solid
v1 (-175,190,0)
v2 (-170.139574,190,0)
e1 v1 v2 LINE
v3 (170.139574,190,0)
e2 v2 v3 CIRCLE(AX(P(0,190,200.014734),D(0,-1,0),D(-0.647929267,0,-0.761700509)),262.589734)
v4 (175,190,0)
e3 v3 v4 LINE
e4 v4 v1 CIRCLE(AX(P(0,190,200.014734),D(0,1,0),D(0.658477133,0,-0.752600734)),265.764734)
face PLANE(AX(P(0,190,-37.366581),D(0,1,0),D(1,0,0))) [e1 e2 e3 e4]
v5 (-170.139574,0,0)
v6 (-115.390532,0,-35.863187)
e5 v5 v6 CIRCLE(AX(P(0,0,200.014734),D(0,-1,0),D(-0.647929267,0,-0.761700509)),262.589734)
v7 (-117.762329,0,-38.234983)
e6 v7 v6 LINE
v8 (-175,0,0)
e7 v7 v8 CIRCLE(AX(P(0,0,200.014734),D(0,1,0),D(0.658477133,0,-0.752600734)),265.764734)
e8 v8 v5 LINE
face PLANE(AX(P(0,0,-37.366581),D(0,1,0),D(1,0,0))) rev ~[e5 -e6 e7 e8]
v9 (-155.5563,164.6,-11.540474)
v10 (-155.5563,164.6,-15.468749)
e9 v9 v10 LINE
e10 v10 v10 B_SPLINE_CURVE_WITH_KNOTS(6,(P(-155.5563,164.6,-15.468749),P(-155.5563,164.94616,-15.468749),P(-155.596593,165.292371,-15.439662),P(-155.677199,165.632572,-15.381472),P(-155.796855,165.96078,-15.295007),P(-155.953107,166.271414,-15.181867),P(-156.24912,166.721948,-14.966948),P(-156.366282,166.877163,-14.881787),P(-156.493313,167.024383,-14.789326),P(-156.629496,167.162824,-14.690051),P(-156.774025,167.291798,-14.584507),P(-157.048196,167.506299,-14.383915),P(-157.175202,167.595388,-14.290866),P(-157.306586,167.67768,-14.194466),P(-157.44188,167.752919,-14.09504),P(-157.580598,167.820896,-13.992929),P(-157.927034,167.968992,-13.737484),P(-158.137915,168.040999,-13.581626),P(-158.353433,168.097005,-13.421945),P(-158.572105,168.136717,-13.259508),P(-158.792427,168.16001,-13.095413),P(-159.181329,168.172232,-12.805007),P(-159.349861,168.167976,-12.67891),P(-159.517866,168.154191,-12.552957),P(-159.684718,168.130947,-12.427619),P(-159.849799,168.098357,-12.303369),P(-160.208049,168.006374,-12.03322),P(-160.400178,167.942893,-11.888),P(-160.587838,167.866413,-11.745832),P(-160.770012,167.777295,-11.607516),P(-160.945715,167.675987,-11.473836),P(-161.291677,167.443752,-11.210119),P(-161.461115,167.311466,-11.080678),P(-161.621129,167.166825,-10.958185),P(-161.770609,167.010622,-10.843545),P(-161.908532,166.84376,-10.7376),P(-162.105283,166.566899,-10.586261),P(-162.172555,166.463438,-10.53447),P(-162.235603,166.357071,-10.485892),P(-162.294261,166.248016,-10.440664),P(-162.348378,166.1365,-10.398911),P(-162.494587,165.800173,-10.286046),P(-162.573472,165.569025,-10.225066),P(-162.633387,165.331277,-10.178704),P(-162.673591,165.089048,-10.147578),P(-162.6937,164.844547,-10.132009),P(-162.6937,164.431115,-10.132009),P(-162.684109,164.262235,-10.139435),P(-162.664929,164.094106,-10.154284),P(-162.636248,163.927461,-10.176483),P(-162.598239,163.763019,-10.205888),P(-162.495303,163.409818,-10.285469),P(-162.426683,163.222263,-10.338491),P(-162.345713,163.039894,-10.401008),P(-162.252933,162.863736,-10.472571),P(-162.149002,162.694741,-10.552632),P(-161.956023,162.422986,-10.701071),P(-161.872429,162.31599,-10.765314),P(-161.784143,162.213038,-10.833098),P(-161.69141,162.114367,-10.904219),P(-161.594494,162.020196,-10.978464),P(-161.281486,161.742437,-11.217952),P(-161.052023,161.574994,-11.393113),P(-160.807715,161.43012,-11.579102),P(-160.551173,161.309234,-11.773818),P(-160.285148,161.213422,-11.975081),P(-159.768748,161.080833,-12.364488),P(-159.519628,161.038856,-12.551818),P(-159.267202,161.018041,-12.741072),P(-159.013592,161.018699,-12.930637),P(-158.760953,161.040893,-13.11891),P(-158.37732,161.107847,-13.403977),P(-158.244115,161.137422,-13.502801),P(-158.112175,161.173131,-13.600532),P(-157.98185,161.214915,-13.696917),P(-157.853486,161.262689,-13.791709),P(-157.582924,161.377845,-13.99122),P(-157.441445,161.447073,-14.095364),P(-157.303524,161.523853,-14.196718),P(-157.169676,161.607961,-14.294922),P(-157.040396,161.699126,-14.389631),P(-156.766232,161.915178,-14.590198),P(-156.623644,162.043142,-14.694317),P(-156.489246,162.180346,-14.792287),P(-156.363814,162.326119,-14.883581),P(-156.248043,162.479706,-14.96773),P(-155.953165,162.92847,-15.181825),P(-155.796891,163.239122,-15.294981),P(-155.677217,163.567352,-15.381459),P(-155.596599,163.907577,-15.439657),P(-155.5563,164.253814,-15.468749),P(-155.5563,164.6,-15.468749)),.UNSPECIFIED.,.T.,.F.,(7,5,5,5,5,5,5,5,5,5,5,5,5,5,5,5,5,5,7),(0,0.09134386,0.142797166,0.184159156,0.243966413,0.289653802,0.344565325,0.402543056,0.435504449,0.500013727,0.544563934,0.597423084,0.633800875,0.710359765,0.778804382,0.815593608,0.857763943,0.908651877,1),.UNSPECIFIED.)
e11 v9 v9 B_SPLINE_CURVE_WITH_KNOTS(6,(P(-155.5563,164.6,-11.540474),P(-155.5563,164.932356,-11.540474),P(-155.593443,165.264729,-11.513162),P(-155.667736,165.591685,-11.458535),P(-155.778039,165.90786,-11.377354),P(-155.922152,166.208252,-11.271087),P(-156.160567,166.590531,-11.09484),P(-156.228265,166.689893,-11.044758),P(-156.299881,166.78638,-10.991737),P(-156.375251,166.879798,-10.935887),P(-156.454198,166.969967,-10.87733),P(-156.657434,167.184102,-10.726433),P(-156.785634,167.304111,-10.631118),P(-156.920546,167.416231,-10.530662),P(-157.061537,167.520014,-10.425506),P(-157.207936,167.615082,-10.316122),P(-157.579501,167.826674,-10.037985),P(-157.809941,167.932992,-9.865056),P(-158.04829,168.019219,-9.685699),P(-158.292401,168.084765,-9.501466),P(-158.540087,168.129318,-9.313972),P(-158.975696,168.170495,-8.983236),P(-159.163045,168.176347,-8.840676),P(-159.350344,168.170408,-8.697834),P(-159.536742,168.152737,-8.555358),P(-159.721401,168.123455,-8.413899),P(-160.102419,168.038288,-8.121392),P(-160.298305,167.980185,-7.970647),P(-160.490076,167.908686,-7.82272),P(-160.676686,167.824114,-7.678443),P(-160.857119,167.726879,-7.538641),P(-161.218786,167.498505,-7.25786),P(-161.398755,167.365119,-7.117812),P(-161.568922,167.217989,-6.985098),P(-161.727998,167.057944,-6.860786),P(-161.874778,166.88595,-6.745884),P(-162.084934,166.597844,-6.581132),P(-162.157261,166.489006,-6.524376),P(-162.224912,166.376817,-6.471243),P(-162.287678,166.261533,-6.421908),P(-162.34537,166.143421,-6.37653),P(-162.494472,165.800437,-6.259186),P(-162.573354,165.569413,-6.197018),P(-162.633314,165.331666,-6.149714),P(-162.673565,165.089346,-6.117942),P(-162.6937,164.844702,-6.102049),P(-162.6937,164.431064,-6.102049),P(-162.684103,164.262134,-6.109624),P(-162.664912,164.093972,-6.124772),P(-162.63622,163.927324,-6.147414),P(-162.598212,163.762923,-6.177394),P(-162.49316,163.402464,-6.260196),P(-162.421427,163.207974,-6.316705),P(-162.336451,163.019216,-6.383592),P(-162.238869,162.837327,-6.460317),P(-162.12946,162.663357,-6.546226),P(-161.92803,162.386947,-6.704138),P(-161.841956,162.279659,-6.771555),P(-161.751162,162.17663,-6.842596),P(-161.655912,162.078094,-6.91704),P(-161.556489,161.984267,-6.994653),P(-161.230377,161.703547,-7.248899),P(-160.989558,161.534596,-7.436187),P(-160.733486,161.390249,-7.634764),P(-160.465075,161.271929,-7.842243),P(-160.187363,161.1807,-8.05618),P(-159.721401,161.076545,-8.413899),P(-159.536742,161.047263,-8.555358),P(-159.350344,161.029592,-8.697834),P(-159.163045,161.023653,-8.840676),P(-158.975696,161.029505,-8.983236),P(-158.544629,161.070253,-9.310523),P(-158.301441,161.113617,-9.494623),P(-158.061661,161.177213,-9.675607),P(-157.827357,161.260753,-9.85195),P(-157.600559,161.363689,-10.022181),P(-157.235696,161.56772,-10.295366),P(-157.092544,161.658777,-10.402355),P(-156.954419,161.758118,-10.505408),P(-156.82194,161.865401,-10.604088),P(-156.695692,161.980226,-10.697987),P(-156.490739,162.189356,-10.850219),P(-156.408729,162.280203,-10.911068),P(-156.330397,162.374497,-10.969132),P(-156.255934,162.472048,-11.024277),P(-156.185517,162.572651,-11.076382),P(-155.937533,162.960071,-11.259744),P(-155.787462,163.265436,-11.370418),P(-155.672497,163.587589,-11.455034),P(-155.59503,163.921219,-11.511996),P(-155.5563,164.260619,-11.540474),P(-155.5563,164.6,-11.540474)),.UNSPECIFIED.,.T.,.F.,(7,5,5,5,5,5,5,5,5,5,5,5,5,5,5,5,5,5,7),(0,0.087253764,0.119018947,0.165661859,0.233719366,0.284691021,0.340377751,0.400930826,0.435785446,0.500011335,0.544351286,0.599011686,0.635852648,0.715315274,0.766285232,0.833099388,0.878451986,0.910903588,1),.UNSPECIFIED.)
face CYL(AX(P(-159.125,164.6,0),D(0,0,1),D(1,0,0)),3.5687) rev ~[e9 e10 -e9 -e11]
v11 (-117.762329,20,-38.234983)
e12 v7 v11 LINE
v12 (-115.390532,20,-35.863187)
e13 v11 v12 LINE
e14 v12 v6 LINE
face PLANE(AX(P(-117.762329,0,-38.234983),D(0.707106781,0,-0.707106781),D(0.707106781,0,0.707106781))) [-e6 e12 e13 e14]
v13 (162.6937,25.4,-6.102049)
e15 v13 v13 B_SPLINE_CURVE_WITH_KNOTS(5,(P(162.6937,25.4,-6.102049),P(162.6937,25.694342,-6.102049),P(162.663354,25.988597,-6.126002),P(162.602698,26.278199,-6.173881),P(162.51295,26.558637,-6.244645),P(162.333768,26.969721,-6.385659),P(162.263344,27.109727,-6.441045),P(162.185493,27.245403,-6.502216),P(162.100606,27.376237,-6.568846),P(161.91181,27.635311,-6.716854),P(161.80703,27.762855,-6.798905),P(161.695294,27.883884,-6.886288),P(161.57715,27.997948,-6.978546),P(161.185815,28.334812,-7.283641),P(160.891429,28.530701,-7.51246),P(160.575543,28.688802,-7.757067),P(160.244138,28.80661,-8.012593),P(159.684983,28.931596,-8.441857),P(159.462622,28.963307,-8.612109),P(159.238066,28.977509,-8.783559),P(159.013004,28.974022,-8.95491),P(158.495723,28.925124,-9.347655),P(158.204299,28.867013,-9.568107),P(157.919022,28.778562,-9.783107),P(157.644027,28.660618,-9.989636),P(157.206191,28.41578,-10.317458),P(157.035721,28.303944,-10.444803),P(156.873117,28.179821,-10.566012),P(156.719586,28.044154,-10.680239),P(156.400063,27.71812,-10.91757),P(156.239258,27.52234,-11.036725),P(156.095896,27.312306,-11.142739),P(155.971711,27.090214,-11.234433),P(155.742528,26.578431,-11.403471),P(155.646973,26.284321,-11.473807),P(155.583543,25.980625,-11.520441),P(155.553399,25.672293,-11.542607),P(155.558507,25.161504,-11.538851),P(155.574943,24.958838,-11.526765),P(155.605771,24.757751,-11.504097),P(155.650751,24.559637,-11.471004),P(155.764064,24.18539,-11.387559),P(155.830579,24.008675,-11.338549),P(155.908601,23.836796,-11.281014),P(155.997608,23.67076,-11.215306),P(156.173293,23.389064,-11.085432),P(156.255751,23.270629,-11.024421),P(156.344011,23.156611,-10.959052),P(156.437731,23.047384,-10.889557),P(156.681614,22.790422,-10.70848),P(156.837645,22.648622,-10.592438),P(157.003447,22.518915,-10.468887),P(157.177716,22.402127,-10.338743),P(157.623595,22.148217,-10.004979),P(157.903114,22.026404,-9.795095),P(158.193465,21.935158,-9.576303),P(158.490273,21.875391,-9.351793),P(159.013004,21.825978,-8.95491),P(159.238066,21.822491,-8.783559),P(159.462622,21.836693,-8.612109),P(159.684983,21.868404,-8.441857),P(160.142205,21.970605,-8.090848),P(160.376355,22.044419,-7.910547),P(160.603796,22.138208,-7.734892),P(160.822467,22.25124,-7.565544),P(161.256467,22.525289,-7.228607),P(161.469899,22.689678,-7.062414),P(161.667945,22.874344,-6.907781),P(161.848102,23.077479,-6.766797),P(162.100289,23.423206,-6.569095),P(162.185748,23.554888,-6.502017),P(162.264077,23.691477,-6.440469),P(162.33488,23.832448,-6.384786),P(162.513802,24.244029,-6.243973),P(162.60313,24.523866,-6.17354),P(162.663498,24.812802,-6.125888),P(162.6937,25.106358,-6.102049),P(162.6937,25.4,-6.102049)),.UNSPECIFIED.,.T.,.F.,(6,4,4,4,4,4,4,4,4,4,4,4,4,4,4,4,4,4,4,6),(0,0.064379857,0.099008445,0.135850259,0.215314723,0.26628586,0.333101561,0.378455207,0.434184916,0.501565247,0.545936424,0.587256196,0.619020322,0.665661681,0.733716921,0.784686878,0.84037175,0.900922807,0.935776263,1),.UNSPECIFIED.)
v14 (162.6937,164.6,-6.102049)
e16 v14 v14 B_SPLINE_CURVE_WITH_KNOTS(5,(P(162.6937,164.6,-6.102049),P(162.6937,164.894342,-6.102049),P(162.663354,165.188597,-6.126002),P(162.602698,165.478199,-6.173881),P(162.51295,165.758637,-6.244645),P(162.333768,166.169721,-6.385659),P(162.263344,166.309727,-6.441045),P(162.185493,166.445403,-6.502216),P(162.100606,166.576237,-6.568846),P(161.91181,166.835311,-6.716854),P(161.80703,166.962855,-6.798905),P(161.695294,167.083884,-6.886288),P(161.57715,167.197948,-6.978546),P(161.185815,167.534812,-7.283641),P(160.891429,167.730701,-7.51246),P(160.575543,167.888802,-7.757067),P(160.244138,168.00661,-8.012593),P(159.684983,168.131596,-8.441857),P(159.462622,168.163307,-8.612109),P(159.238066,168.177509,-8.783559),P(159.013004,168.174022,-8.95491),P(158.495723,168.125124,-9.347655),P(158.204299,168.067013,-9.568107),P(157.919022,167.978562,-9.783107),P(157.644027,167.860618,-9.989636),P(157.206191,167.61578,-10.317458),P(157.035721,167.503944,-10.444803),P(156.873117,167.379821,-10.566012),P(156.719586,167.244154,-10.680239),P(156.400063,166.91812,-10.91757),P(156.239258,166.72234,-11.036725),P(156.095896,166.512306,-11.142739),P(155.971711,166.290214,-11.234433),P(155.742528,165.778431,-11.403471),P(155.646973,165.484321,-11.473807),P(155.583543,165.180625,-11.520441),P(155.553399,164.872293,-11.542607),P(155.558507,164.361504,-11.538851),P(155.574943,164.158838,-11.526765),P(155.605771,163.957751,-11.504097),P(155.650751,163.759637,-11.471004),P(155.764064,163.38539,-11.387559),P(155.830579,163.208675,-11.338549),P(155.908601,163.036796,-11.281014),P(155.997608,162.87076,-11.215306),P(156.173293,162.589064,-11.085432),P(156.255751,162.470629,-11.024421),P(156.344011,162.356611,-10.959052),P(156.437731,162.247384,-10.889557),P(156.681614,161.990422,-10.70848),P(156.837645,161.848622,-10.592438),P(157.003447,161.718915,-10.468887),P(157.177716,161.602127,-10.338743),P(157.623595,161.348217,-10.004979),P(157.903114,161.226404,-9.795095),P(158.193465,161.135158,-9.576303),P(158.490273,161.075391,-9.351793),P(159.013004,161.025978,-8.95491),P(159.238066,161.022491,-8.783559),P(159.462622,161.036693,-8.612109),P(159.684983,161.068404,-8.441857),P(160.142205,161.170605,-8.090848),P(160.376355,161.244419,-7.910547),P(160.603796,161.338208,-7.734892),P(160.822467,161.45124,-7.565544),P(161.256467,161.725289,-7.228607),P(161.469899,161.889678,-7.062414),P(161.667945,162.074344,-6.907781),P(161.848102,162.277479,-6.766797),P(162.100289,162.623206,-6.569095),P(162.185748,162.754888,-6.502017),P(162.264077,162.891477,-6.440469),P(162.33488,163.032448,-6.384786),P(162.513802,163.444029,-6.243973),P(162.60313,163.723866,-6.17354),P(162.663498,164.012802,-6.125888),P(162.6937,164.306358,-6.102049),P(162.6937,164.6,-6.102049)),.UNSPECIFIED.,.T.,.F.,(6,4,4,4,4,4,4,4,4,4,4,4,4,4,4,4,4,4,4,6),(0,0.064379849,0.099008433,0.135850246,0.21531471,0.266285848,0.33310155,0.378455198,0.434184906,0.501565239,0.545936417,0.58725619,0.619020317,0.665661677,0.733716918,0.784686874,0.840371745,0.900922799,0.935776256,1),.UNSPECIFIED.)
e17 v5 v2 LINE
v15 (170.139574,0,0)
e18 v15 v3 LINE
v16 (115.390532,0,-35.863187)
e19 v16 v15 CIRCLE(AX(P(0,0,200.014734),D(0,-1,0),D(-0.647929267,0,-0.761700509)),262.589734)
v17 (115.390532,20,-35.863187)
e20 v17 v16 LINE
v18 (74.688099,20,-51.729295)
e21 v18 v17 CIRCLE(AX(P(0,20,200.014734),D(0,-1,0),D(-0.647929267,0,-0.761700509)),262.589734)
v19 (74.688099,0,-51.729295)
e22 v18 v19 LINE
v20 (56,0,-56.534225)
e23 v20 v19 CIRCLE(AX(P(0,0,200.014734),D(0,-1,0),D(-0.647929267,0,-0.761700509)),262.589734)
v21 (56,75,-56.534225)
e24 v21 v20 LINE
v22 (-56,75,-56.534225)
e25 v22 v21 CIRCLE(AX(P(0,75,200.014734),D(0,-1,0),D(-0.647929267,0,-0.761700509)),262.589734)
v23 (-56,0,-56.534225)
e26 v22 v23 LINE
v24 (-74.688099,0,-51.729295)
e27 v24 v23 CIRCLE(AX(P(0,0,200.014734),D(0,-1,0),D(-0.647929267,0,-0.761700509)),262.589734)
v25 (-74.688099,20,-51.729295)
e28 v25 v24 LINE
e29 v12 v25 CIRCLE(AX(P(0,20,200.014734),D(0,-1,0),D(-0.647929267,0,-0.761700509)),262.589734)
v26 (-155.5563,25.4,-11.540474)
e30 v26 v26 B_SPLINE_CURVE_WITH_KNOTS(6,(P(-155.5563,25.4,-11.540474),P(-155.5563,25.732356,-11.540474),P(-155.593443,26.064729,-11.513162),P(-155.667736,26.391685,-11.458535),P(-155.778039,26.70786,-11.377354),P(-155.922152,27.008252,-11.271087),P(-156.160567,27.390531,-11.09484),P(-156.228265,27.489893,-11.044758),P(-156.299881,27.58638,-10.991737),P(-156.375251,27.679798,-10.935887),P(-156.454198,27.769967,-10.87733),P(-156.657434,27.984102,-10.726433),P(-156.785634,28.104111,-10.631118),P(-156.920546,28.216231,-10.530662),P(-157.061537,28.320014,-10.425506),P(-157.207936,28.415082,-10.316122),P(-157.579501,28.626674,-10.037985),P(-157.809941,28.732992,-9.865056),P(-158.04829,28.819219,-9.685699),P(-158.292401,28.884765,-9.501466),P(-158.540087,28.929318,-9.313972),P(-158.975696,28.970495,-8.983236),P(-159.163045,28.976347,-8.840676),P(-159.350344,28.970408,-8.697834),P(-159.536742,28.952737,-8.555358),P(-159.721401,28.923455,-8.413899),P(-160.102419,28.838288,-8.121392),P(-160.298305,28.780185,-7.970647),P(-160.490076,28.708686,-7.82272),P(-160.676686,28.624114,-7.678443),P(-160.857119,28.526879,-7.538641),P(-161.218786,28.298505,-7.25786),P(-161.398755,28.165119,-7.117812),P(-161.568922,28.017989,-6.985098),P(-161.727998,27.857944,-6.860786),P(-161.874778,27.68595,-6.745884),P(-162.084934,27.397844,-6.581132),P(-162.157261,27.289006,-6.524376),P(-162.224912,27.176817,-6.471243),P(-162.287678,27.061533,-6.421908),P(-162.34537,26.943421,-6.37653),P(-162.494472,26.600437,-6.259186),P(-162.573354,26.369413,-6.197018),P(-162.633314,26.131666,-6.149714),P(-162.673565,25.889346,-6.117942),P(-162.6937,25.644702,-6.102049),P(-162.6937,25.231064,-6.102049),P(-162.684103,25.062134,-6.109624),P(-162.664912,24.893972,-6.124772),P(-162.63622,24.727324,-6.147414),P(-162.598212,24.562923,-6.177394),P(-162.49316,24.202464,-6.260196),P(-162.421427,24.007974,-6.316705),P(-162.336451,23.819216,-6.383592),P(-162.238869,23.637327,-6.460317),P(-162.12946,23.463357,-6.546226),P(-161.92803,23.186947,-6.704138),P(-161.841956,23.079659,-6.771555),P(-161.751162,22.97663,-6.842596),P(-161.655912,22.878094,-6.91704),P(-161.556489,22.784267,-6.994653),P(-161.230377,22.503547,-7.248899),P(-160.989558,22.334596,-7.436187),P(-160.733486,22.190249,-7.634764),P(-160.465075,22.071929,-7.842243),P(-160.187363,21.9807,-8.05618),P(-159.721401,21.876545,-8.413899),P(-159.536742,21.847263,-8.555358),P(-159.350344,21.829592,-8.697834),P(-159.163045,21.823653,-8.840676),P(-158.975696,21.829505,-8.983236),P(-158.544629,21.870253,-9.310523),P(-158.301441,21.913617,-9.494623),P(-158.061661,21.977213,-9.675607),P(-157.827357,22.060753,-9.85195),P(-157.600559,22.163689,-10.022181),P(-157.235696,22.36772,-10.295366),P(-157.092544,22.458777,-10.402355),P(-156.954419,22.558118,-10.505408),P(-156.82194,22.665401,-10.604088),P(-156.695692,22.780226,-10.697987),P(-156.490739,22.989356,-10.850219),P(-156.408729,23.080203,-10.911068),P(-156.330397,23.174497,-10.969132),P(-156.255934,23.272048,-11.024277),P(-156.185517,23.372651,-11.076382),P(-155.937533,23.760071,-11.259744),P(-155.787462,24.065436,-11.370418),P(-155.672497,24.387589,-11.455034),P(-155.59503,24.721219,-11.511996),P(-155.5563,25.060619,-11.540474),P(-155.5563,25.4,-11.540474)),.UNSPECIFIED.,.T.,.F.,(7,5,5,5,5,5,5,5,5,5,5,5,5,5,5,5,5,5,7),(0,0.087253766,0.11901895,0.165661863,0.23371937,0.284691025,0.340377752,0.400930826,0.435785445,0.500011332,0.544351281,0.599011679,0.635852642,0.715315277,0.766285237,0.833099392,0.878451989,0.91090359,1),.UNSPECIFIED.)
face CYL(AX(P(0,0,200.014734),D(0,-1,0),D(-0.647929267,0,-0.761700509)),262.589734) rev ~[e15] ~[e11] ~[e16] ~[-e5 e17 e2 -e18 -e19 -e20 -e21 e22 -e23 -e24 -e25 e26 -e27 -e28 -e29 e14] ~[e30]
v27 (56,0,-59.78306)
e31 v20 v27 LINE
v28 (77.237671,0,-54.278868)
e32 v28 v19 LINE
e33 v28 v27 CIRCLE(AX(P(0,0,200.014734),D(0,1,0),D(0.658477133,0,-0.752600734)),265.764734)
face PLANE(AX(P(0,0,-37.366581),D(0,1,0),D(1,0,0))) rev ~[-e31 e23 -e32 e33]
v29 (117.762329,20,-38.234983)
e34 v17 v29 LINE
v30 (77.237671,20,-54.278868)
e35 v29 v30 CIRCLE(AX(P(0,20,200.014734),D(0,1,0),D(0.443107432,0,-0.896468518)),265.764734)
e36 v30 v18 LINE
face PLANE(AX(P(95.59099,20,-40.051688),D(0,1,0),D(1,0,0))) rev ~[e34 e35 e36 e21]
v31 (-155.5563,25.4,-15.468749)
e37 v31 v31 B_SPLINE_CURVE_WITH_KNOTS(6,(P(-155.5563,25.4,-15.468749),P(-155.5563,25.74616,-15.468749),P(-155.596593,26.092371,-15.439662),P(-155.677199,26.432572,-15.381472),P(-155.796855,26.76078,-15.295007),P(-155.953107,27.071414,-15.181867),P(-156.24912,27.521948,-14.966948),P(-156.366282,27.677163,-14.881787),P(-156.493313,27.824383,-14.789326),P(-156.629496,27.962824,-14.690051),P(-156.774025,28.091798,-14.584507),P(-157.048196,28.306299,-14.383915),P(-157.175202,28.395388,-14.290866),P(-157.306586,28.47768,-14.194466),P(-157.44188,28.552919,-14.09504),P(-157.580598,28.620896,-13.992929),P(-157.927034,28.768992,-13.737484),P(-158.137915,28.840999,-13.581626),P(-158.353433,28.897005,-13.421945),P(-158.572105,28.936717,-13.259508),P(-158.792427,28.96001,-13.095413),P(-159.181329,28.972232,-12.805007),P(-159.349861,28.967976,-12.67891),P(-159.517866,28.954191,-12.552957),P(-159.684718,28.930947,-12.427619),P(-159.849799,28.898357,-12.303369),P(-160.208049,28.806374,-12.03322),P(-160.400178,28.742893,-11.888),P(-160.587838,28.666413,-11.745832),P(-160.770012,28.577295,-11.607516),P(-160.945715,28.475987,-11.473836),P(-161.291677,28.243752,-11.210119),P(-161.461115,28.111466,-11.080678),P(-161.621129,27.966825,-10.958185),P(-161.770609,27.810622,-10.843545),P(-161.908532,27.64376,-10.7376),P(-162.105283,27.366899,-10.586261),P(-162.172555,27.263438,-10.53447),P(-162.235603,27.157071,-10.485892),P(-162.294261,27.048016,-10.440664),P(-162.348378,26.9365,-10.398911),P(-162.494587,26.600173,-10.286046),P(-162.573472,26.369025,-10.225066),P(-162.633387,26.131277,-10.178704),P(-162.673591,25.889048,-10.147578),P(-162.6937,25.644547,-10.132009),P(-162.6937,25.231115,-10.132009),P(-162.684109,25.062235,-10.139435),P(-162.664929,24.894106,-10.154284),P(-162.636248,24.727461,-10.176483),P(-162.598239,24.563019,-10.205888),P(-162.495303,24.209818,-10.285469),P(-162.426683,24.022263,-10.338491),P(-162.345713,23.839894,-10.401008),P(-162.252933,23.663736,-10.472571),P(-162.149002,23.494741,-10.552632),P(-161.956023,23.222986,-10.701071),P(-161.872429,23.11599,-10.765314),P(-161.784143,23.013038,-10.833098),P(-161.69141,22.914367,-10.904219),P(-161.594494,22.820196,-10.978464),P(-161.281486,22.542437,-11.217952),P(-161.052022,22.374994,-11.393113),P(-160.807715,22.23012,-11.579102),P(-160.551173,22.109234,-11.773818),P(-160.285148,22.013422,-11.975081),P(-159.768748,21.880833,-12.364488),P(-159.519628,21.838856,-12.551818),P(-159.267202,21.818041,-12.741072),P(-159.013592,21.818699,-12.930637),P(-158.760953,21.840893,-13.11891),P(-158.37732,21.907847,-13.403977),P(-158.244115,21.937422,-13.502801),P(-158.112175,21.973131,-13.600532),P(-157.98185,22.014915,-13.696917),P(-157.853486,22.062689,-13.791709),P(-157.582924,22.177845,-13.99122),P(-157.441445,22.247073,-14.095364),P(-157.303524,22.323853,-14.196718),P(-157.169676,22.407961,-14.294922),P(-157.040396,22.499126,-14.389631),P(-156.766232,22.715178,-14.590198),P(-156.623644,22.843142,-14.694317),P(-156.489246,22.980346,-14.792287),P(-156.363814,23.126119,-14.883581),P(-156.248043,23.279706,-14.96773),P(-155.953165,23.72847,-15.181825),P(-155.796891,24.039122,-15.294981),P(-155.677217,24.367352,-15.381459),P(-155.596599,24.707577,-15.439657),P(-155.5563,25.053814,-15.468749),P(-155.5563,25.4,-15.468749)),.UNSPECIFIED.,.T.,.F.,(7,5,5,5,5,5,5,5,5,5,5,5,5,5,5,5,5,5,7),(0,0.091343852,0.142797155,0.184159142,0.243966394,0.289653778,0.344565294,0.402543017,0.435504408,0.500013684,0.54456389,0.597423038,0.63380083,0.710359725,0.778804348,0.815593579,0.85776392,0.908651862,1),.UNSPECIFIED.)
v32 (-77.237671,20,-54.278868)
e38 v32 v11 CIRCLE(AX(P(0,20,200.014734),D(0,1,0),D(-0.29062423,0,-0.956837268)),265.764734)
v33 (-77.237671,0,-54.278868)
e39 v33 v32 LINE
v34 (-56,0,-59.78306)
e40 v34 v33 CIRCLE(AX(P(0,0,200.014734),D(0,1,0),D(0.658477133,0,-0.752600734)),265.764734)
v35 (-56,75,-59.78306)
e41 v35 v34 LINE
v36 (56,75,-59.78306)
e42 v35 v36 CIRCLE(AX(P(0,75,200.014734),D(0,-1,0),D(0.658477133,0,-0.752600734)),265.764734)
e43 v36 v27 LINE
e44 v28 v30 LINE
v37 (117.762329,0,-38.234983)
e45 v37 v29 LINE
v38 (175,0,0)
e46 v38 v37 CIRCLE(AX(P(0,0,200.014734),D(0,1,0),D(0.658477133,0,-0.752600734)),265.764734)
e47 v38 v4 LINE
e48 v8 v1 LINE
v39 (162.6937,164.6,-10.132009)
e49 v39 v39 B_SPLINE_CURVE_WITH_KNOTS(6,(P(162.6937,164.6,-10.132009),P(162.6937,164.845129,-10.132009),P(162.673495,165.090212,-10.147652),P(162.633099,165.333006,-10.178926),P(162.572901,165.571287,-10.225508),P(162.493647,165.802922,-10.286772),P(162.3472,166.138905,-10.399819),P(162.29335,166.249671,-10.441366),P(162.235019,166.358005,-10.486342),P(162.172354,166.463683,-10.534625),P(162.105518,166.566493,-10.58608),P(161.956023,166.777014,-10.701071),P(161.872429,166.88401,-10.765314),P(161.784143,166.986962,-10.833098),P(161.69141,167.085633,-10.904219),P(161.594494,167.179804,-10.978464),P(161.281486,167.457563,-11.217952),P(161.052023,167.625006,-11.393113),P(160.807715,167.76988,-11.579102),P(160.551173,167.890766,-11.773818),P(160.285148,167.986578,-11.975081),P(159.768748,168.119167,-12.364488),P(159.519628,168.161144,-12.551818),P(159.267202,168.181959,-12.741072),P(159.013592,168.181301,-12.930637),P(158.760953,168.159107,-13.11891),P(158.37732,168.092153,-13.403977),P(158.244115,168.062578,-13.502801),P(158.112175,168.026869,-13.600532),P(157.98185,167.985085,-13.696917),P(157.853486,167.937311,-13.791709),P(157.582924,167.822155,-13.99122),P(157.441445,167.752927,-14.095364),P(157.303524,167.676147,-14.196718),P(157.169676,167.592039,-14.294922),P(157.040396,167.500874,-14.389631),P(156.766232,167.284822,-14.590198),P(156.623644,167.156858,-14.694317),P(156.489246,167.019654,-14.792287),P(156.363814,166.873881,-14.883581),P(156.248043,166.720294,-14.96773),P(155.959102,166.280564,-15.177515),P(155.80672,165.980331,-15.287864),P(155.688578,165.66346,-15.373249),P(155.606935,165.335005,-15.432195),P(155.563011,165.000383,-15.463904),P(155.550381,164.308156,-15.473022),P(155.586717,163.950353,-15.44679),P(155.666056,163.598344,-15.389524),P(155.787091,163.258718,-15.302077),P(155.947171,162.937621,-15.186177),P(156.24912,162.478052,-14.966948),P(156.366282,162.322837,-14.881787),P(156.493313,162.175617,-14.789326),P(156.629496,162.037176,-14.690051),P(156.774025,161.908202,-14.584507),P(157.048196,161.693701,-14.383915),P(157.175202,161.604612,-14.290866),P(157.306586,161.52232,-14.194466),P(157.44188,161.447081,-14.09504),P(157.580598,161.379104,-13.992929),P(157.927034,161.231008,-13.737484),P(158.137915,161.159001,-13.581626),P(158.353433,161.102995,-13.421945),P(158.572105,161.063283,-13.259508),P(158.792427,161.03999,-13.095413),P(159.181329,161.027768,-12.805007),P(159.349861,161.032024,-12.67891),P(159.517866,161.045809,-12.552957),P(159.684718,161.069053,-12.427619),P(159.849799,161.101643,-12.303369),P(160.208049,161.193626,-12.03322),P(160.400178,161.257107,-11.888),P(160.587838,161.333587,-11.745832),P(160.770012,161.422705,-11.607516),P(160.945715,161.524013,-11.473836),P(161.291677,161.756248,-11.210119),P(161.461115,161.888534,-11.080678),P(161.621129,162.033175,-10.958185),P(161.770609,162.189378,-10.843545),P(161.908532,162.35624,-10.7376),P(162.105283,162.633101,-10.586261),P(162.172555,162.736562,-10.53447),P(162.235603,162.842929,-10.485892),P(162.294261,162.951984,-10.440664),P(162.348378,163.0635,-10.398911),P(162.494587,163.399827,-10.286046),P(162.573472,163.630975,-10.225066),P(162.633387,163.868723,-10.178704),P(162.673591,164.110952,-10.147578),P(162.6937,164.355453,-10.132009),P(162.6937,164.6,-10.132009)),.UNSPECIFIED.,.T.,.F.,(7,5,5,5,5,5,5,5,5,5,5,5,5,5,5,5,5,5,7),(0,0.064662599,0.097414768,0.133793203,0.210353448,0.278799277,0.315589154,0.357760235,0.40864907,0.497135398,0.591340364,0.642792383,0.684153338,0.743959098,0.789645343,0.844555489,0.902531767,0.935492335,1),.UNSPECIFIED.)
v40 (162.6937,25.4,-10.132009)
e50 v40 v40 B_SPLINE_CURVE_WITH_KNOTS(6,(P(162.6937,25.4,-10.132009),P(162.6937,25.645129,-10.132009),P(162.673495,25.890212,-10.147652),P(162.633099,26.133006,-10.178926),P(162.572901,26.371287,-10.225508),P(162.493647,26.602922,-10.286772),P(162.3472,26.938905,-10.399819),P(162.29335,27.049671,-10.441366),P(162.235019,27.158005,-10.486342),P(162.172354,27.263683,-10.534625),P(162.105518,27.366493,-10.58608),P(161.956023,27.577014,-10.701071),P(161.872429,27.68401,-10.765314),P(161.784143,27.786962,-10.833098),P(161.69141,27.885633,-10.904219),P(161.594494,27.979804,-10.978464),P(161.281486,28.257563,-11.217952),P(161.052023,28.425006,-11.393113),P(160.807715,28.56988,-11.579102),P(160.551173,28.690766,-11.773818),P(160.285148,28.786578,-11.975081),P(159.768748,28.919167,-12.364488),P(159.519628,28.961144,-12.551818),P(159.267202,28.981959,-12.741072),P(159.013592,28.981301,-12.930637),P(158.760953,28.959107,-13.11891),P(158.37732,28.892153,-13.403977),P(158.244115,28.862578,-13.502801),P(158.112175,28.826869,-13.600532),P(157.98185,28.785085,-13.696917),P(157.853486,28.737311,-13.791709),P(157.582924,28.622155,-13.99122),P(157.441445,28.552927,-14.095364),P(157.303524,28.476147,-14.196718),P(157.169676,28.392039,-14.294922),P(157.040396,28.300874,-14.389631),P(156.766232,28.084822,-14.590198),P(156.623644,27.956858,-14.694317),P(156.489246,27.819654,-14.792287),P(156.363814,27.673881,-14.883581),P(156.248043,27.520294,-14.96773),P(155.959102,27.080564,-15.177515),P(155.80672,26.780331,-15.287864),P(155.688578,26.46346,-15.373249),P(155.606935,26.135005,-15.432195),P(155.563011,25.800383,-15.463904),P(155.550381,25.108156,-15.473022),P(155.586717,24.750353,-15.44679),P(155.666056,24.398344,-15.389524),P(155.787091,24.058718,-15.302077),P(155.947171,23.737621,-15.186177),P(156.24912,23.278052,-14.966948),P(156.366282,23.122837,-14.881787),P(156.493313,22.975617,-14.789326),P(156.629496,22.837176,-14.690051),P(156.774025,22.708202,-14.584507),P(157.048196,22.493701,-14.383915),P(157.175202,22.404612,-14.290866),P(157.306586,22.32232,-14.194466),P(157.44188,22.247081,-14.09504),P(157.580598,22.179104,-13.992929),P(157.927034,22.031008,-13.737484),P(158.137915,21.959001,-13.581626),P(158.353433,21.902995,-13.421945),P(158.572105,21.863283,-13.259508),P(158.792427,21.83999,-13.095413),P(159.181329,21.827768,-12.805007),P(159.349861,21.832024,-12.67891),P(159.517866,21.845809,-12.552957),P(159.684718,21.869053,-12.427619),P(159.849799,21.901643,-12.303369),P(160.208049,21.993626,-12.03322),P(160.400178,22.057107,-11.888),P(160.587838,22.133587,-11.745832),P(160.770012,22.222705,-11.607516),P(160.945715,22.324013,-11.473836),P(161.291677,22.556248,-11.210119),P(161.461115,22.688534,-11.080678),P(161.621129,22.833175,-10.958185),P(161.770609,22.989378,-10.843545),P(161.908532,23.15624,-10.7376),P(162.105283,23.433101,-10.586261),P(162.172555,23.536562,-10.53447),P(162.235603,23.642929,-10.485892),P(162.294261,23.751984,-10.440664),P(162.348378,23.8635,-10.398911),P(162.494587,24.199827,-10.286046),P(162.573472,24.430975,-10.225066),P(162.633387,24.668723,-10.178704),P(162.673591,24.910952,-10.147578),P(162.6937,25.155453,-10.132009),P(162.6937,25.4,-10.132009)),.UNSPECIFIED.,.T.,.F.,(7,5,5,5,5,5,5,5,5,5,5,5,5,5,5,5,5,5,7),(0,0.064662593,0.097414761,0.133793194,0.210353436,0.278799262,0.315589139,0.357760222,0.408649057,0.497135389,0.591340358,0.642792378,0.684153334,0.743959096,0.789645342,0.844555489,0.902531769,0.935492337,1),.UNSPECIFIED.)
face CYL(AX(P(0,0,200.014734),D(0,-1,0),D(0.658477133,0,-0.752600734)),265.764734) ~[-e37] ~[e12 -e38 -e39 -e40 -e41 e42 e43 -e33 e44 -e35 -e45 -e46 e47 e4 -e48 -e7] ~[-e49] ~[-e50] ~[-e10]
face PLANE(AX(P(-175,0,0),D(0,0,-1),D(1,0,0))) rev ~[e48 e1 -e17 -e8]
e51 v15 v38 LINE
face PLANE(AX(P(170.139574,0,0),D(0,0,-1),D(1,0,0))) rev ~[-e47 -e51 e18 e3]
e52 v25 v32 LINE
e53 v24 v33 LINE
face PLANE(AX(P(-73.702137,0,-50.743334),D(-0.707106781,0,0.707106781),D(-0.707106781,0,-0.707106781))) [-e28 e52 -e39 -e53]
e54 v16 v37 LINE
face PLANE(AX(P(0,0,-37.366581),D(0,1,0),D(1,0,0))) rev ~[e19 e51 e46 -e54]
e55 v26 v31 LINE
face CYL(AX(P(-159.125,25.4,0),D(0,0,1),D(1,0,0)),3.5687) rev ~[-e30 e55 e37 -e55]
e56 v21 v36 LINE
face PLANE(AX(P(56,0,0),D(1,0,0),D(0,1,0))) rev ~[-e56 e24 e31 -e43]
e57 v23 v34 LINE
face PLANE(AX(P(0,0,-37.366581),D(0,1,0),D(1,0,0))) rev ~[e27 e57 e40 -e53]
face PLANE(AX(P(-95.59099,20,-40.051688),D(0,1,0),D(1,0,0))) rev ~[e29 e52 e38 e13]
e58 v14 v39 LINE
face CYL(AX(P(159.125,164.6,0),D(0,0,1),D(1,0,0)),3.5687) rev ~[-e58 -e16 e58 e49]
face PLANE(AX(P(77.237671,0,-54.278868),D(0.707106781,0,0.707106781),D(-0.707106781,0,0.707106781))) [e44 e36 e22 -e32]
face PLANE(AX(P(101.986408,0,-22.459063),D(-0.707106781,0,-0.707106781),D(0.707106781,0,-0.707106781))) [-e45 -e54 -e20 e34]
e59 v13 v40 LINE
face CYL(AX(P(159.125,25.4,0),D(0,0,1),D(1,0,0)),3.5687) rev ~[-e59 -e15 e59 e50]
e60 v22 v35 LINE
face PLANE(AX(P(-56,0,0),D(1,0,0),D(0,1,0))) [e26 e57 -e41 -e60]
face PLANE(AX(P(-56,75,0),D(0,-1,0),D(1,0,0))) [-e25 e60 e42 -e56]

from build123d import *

# Parameters (mm, degrees)
CURVED_PLATE_DEPTH      = 190
IR_CUTOUT_DEPTH         = 20
CHARGERBOX_CUTOUT_REACH = 67.75
SKETCH3_W               = 112
SKETCH3_H               = 75
SKETCH5_R               = 3.5687
MOUNTING_HOLES_DEPTH    = 66.75


with BuildPart() as part:
    # Sketch1 → Curved Plate (new body)
    with BuildSketch(Plane(origin=(0, 0, 0), x_dir=(1, 0, 0), z_dir=(0, 1, 0))):
        with BuildLine():
            Line((170.139573777, 0), (175, 0))
            ThreePointArc((175, 0), (0, 65.75), (-175, 0))
            Line((-175, 0), (-170.139573777, 0))
            ThreePointArc((-170.139573777, 0), (0, 62.575), (170.139573777, 0))
        make_face()
    extrude(amount=CURVED_PLATE_DEPTH)

    # Sketch2 → IR Cutout (cut)
    with BuildSketch(Plane(origin=(0, 0, 0), x_dir=(1, 0, 0), z_dir=(0, 1, 0))):
        with BuildLine():
            Line((-117.762328859, 38.234983169), (-105.521942389, 25.994596699))
            Line((-105.521942389, 25.994596699), (-101.986408483, 22.459062793))
            Line((-101.986408483, 22.459062793), (-73.702137236, 50.743334041))
            Line((-73.702137236, 50.743334041), (-77.237671141, 54.278867947))
            ThreePointArc((-77.237671141, 54.278867947), (-97.829451392, 47.089074697), (-117.762328859, 38.234983169))
        make_face()
        with BuildLine():
            Line((77.237671141, 54.278867947), (73.702137236, 50.743334041))
            Line((73.702137236, 50.743334041), (101.986408483, 22.459062793))
            Line((101.986408483, 22.459062793), (105.521942389, 25.994596699))
            Line((105.521942389, 25.994596699), (117.762328859, 38.234983169))
            ThreePointArc((117.762328859, 38.234983169), (97.829451392, 47.089074697), (77.237671141, 54.278867947))
        make_face()
    extrude(amount=IR_CUTOUT_DEPTH, mode=Mode.SUBTRACT)

    # Sketch3 → ChargerBox Cutout (cut, up to next)
    with BuildSketch(Plane.XY, mode=Mode.PRIVATE) as chargerbox_cutout_sk1:
        with Locations((0, 37.5)):
            Rectangle(SKETCH3_W, SKETCH3_H)
    chargerbox_cutout_tool1 = extrude(chargerbox_cutout_sk1.sketch, amount=-CHARGERBOX_CUTOUT_REACH, mode=Mode.PRIVATE) & part.part
    add(chargerbox_cutout_tool1.solids().sort_by_distance((0, 37.5, 0))[0], mode=Mode.SUBTRACT)

    # Sketch5 → Mounting Holes (cut, through all)
    with BuildSketch(Plane.XY):
        with Locations((-159.125, 164.6)):
            Circle(SKETCH5_R)
        with Locations((-159.125, 25.4)):
            Circle(SKETCH5_R)
        with Locations((159.125, 25.4)):
            Circle(SKETCH5_R)
        with Locations((159.125, 164.6)):
            Circle(SKETCH5_R)
    extrude(amount=-MOUNTING_HOLES_DEPTH, mode=Mode.SUBTRACT)


solid = part.part
